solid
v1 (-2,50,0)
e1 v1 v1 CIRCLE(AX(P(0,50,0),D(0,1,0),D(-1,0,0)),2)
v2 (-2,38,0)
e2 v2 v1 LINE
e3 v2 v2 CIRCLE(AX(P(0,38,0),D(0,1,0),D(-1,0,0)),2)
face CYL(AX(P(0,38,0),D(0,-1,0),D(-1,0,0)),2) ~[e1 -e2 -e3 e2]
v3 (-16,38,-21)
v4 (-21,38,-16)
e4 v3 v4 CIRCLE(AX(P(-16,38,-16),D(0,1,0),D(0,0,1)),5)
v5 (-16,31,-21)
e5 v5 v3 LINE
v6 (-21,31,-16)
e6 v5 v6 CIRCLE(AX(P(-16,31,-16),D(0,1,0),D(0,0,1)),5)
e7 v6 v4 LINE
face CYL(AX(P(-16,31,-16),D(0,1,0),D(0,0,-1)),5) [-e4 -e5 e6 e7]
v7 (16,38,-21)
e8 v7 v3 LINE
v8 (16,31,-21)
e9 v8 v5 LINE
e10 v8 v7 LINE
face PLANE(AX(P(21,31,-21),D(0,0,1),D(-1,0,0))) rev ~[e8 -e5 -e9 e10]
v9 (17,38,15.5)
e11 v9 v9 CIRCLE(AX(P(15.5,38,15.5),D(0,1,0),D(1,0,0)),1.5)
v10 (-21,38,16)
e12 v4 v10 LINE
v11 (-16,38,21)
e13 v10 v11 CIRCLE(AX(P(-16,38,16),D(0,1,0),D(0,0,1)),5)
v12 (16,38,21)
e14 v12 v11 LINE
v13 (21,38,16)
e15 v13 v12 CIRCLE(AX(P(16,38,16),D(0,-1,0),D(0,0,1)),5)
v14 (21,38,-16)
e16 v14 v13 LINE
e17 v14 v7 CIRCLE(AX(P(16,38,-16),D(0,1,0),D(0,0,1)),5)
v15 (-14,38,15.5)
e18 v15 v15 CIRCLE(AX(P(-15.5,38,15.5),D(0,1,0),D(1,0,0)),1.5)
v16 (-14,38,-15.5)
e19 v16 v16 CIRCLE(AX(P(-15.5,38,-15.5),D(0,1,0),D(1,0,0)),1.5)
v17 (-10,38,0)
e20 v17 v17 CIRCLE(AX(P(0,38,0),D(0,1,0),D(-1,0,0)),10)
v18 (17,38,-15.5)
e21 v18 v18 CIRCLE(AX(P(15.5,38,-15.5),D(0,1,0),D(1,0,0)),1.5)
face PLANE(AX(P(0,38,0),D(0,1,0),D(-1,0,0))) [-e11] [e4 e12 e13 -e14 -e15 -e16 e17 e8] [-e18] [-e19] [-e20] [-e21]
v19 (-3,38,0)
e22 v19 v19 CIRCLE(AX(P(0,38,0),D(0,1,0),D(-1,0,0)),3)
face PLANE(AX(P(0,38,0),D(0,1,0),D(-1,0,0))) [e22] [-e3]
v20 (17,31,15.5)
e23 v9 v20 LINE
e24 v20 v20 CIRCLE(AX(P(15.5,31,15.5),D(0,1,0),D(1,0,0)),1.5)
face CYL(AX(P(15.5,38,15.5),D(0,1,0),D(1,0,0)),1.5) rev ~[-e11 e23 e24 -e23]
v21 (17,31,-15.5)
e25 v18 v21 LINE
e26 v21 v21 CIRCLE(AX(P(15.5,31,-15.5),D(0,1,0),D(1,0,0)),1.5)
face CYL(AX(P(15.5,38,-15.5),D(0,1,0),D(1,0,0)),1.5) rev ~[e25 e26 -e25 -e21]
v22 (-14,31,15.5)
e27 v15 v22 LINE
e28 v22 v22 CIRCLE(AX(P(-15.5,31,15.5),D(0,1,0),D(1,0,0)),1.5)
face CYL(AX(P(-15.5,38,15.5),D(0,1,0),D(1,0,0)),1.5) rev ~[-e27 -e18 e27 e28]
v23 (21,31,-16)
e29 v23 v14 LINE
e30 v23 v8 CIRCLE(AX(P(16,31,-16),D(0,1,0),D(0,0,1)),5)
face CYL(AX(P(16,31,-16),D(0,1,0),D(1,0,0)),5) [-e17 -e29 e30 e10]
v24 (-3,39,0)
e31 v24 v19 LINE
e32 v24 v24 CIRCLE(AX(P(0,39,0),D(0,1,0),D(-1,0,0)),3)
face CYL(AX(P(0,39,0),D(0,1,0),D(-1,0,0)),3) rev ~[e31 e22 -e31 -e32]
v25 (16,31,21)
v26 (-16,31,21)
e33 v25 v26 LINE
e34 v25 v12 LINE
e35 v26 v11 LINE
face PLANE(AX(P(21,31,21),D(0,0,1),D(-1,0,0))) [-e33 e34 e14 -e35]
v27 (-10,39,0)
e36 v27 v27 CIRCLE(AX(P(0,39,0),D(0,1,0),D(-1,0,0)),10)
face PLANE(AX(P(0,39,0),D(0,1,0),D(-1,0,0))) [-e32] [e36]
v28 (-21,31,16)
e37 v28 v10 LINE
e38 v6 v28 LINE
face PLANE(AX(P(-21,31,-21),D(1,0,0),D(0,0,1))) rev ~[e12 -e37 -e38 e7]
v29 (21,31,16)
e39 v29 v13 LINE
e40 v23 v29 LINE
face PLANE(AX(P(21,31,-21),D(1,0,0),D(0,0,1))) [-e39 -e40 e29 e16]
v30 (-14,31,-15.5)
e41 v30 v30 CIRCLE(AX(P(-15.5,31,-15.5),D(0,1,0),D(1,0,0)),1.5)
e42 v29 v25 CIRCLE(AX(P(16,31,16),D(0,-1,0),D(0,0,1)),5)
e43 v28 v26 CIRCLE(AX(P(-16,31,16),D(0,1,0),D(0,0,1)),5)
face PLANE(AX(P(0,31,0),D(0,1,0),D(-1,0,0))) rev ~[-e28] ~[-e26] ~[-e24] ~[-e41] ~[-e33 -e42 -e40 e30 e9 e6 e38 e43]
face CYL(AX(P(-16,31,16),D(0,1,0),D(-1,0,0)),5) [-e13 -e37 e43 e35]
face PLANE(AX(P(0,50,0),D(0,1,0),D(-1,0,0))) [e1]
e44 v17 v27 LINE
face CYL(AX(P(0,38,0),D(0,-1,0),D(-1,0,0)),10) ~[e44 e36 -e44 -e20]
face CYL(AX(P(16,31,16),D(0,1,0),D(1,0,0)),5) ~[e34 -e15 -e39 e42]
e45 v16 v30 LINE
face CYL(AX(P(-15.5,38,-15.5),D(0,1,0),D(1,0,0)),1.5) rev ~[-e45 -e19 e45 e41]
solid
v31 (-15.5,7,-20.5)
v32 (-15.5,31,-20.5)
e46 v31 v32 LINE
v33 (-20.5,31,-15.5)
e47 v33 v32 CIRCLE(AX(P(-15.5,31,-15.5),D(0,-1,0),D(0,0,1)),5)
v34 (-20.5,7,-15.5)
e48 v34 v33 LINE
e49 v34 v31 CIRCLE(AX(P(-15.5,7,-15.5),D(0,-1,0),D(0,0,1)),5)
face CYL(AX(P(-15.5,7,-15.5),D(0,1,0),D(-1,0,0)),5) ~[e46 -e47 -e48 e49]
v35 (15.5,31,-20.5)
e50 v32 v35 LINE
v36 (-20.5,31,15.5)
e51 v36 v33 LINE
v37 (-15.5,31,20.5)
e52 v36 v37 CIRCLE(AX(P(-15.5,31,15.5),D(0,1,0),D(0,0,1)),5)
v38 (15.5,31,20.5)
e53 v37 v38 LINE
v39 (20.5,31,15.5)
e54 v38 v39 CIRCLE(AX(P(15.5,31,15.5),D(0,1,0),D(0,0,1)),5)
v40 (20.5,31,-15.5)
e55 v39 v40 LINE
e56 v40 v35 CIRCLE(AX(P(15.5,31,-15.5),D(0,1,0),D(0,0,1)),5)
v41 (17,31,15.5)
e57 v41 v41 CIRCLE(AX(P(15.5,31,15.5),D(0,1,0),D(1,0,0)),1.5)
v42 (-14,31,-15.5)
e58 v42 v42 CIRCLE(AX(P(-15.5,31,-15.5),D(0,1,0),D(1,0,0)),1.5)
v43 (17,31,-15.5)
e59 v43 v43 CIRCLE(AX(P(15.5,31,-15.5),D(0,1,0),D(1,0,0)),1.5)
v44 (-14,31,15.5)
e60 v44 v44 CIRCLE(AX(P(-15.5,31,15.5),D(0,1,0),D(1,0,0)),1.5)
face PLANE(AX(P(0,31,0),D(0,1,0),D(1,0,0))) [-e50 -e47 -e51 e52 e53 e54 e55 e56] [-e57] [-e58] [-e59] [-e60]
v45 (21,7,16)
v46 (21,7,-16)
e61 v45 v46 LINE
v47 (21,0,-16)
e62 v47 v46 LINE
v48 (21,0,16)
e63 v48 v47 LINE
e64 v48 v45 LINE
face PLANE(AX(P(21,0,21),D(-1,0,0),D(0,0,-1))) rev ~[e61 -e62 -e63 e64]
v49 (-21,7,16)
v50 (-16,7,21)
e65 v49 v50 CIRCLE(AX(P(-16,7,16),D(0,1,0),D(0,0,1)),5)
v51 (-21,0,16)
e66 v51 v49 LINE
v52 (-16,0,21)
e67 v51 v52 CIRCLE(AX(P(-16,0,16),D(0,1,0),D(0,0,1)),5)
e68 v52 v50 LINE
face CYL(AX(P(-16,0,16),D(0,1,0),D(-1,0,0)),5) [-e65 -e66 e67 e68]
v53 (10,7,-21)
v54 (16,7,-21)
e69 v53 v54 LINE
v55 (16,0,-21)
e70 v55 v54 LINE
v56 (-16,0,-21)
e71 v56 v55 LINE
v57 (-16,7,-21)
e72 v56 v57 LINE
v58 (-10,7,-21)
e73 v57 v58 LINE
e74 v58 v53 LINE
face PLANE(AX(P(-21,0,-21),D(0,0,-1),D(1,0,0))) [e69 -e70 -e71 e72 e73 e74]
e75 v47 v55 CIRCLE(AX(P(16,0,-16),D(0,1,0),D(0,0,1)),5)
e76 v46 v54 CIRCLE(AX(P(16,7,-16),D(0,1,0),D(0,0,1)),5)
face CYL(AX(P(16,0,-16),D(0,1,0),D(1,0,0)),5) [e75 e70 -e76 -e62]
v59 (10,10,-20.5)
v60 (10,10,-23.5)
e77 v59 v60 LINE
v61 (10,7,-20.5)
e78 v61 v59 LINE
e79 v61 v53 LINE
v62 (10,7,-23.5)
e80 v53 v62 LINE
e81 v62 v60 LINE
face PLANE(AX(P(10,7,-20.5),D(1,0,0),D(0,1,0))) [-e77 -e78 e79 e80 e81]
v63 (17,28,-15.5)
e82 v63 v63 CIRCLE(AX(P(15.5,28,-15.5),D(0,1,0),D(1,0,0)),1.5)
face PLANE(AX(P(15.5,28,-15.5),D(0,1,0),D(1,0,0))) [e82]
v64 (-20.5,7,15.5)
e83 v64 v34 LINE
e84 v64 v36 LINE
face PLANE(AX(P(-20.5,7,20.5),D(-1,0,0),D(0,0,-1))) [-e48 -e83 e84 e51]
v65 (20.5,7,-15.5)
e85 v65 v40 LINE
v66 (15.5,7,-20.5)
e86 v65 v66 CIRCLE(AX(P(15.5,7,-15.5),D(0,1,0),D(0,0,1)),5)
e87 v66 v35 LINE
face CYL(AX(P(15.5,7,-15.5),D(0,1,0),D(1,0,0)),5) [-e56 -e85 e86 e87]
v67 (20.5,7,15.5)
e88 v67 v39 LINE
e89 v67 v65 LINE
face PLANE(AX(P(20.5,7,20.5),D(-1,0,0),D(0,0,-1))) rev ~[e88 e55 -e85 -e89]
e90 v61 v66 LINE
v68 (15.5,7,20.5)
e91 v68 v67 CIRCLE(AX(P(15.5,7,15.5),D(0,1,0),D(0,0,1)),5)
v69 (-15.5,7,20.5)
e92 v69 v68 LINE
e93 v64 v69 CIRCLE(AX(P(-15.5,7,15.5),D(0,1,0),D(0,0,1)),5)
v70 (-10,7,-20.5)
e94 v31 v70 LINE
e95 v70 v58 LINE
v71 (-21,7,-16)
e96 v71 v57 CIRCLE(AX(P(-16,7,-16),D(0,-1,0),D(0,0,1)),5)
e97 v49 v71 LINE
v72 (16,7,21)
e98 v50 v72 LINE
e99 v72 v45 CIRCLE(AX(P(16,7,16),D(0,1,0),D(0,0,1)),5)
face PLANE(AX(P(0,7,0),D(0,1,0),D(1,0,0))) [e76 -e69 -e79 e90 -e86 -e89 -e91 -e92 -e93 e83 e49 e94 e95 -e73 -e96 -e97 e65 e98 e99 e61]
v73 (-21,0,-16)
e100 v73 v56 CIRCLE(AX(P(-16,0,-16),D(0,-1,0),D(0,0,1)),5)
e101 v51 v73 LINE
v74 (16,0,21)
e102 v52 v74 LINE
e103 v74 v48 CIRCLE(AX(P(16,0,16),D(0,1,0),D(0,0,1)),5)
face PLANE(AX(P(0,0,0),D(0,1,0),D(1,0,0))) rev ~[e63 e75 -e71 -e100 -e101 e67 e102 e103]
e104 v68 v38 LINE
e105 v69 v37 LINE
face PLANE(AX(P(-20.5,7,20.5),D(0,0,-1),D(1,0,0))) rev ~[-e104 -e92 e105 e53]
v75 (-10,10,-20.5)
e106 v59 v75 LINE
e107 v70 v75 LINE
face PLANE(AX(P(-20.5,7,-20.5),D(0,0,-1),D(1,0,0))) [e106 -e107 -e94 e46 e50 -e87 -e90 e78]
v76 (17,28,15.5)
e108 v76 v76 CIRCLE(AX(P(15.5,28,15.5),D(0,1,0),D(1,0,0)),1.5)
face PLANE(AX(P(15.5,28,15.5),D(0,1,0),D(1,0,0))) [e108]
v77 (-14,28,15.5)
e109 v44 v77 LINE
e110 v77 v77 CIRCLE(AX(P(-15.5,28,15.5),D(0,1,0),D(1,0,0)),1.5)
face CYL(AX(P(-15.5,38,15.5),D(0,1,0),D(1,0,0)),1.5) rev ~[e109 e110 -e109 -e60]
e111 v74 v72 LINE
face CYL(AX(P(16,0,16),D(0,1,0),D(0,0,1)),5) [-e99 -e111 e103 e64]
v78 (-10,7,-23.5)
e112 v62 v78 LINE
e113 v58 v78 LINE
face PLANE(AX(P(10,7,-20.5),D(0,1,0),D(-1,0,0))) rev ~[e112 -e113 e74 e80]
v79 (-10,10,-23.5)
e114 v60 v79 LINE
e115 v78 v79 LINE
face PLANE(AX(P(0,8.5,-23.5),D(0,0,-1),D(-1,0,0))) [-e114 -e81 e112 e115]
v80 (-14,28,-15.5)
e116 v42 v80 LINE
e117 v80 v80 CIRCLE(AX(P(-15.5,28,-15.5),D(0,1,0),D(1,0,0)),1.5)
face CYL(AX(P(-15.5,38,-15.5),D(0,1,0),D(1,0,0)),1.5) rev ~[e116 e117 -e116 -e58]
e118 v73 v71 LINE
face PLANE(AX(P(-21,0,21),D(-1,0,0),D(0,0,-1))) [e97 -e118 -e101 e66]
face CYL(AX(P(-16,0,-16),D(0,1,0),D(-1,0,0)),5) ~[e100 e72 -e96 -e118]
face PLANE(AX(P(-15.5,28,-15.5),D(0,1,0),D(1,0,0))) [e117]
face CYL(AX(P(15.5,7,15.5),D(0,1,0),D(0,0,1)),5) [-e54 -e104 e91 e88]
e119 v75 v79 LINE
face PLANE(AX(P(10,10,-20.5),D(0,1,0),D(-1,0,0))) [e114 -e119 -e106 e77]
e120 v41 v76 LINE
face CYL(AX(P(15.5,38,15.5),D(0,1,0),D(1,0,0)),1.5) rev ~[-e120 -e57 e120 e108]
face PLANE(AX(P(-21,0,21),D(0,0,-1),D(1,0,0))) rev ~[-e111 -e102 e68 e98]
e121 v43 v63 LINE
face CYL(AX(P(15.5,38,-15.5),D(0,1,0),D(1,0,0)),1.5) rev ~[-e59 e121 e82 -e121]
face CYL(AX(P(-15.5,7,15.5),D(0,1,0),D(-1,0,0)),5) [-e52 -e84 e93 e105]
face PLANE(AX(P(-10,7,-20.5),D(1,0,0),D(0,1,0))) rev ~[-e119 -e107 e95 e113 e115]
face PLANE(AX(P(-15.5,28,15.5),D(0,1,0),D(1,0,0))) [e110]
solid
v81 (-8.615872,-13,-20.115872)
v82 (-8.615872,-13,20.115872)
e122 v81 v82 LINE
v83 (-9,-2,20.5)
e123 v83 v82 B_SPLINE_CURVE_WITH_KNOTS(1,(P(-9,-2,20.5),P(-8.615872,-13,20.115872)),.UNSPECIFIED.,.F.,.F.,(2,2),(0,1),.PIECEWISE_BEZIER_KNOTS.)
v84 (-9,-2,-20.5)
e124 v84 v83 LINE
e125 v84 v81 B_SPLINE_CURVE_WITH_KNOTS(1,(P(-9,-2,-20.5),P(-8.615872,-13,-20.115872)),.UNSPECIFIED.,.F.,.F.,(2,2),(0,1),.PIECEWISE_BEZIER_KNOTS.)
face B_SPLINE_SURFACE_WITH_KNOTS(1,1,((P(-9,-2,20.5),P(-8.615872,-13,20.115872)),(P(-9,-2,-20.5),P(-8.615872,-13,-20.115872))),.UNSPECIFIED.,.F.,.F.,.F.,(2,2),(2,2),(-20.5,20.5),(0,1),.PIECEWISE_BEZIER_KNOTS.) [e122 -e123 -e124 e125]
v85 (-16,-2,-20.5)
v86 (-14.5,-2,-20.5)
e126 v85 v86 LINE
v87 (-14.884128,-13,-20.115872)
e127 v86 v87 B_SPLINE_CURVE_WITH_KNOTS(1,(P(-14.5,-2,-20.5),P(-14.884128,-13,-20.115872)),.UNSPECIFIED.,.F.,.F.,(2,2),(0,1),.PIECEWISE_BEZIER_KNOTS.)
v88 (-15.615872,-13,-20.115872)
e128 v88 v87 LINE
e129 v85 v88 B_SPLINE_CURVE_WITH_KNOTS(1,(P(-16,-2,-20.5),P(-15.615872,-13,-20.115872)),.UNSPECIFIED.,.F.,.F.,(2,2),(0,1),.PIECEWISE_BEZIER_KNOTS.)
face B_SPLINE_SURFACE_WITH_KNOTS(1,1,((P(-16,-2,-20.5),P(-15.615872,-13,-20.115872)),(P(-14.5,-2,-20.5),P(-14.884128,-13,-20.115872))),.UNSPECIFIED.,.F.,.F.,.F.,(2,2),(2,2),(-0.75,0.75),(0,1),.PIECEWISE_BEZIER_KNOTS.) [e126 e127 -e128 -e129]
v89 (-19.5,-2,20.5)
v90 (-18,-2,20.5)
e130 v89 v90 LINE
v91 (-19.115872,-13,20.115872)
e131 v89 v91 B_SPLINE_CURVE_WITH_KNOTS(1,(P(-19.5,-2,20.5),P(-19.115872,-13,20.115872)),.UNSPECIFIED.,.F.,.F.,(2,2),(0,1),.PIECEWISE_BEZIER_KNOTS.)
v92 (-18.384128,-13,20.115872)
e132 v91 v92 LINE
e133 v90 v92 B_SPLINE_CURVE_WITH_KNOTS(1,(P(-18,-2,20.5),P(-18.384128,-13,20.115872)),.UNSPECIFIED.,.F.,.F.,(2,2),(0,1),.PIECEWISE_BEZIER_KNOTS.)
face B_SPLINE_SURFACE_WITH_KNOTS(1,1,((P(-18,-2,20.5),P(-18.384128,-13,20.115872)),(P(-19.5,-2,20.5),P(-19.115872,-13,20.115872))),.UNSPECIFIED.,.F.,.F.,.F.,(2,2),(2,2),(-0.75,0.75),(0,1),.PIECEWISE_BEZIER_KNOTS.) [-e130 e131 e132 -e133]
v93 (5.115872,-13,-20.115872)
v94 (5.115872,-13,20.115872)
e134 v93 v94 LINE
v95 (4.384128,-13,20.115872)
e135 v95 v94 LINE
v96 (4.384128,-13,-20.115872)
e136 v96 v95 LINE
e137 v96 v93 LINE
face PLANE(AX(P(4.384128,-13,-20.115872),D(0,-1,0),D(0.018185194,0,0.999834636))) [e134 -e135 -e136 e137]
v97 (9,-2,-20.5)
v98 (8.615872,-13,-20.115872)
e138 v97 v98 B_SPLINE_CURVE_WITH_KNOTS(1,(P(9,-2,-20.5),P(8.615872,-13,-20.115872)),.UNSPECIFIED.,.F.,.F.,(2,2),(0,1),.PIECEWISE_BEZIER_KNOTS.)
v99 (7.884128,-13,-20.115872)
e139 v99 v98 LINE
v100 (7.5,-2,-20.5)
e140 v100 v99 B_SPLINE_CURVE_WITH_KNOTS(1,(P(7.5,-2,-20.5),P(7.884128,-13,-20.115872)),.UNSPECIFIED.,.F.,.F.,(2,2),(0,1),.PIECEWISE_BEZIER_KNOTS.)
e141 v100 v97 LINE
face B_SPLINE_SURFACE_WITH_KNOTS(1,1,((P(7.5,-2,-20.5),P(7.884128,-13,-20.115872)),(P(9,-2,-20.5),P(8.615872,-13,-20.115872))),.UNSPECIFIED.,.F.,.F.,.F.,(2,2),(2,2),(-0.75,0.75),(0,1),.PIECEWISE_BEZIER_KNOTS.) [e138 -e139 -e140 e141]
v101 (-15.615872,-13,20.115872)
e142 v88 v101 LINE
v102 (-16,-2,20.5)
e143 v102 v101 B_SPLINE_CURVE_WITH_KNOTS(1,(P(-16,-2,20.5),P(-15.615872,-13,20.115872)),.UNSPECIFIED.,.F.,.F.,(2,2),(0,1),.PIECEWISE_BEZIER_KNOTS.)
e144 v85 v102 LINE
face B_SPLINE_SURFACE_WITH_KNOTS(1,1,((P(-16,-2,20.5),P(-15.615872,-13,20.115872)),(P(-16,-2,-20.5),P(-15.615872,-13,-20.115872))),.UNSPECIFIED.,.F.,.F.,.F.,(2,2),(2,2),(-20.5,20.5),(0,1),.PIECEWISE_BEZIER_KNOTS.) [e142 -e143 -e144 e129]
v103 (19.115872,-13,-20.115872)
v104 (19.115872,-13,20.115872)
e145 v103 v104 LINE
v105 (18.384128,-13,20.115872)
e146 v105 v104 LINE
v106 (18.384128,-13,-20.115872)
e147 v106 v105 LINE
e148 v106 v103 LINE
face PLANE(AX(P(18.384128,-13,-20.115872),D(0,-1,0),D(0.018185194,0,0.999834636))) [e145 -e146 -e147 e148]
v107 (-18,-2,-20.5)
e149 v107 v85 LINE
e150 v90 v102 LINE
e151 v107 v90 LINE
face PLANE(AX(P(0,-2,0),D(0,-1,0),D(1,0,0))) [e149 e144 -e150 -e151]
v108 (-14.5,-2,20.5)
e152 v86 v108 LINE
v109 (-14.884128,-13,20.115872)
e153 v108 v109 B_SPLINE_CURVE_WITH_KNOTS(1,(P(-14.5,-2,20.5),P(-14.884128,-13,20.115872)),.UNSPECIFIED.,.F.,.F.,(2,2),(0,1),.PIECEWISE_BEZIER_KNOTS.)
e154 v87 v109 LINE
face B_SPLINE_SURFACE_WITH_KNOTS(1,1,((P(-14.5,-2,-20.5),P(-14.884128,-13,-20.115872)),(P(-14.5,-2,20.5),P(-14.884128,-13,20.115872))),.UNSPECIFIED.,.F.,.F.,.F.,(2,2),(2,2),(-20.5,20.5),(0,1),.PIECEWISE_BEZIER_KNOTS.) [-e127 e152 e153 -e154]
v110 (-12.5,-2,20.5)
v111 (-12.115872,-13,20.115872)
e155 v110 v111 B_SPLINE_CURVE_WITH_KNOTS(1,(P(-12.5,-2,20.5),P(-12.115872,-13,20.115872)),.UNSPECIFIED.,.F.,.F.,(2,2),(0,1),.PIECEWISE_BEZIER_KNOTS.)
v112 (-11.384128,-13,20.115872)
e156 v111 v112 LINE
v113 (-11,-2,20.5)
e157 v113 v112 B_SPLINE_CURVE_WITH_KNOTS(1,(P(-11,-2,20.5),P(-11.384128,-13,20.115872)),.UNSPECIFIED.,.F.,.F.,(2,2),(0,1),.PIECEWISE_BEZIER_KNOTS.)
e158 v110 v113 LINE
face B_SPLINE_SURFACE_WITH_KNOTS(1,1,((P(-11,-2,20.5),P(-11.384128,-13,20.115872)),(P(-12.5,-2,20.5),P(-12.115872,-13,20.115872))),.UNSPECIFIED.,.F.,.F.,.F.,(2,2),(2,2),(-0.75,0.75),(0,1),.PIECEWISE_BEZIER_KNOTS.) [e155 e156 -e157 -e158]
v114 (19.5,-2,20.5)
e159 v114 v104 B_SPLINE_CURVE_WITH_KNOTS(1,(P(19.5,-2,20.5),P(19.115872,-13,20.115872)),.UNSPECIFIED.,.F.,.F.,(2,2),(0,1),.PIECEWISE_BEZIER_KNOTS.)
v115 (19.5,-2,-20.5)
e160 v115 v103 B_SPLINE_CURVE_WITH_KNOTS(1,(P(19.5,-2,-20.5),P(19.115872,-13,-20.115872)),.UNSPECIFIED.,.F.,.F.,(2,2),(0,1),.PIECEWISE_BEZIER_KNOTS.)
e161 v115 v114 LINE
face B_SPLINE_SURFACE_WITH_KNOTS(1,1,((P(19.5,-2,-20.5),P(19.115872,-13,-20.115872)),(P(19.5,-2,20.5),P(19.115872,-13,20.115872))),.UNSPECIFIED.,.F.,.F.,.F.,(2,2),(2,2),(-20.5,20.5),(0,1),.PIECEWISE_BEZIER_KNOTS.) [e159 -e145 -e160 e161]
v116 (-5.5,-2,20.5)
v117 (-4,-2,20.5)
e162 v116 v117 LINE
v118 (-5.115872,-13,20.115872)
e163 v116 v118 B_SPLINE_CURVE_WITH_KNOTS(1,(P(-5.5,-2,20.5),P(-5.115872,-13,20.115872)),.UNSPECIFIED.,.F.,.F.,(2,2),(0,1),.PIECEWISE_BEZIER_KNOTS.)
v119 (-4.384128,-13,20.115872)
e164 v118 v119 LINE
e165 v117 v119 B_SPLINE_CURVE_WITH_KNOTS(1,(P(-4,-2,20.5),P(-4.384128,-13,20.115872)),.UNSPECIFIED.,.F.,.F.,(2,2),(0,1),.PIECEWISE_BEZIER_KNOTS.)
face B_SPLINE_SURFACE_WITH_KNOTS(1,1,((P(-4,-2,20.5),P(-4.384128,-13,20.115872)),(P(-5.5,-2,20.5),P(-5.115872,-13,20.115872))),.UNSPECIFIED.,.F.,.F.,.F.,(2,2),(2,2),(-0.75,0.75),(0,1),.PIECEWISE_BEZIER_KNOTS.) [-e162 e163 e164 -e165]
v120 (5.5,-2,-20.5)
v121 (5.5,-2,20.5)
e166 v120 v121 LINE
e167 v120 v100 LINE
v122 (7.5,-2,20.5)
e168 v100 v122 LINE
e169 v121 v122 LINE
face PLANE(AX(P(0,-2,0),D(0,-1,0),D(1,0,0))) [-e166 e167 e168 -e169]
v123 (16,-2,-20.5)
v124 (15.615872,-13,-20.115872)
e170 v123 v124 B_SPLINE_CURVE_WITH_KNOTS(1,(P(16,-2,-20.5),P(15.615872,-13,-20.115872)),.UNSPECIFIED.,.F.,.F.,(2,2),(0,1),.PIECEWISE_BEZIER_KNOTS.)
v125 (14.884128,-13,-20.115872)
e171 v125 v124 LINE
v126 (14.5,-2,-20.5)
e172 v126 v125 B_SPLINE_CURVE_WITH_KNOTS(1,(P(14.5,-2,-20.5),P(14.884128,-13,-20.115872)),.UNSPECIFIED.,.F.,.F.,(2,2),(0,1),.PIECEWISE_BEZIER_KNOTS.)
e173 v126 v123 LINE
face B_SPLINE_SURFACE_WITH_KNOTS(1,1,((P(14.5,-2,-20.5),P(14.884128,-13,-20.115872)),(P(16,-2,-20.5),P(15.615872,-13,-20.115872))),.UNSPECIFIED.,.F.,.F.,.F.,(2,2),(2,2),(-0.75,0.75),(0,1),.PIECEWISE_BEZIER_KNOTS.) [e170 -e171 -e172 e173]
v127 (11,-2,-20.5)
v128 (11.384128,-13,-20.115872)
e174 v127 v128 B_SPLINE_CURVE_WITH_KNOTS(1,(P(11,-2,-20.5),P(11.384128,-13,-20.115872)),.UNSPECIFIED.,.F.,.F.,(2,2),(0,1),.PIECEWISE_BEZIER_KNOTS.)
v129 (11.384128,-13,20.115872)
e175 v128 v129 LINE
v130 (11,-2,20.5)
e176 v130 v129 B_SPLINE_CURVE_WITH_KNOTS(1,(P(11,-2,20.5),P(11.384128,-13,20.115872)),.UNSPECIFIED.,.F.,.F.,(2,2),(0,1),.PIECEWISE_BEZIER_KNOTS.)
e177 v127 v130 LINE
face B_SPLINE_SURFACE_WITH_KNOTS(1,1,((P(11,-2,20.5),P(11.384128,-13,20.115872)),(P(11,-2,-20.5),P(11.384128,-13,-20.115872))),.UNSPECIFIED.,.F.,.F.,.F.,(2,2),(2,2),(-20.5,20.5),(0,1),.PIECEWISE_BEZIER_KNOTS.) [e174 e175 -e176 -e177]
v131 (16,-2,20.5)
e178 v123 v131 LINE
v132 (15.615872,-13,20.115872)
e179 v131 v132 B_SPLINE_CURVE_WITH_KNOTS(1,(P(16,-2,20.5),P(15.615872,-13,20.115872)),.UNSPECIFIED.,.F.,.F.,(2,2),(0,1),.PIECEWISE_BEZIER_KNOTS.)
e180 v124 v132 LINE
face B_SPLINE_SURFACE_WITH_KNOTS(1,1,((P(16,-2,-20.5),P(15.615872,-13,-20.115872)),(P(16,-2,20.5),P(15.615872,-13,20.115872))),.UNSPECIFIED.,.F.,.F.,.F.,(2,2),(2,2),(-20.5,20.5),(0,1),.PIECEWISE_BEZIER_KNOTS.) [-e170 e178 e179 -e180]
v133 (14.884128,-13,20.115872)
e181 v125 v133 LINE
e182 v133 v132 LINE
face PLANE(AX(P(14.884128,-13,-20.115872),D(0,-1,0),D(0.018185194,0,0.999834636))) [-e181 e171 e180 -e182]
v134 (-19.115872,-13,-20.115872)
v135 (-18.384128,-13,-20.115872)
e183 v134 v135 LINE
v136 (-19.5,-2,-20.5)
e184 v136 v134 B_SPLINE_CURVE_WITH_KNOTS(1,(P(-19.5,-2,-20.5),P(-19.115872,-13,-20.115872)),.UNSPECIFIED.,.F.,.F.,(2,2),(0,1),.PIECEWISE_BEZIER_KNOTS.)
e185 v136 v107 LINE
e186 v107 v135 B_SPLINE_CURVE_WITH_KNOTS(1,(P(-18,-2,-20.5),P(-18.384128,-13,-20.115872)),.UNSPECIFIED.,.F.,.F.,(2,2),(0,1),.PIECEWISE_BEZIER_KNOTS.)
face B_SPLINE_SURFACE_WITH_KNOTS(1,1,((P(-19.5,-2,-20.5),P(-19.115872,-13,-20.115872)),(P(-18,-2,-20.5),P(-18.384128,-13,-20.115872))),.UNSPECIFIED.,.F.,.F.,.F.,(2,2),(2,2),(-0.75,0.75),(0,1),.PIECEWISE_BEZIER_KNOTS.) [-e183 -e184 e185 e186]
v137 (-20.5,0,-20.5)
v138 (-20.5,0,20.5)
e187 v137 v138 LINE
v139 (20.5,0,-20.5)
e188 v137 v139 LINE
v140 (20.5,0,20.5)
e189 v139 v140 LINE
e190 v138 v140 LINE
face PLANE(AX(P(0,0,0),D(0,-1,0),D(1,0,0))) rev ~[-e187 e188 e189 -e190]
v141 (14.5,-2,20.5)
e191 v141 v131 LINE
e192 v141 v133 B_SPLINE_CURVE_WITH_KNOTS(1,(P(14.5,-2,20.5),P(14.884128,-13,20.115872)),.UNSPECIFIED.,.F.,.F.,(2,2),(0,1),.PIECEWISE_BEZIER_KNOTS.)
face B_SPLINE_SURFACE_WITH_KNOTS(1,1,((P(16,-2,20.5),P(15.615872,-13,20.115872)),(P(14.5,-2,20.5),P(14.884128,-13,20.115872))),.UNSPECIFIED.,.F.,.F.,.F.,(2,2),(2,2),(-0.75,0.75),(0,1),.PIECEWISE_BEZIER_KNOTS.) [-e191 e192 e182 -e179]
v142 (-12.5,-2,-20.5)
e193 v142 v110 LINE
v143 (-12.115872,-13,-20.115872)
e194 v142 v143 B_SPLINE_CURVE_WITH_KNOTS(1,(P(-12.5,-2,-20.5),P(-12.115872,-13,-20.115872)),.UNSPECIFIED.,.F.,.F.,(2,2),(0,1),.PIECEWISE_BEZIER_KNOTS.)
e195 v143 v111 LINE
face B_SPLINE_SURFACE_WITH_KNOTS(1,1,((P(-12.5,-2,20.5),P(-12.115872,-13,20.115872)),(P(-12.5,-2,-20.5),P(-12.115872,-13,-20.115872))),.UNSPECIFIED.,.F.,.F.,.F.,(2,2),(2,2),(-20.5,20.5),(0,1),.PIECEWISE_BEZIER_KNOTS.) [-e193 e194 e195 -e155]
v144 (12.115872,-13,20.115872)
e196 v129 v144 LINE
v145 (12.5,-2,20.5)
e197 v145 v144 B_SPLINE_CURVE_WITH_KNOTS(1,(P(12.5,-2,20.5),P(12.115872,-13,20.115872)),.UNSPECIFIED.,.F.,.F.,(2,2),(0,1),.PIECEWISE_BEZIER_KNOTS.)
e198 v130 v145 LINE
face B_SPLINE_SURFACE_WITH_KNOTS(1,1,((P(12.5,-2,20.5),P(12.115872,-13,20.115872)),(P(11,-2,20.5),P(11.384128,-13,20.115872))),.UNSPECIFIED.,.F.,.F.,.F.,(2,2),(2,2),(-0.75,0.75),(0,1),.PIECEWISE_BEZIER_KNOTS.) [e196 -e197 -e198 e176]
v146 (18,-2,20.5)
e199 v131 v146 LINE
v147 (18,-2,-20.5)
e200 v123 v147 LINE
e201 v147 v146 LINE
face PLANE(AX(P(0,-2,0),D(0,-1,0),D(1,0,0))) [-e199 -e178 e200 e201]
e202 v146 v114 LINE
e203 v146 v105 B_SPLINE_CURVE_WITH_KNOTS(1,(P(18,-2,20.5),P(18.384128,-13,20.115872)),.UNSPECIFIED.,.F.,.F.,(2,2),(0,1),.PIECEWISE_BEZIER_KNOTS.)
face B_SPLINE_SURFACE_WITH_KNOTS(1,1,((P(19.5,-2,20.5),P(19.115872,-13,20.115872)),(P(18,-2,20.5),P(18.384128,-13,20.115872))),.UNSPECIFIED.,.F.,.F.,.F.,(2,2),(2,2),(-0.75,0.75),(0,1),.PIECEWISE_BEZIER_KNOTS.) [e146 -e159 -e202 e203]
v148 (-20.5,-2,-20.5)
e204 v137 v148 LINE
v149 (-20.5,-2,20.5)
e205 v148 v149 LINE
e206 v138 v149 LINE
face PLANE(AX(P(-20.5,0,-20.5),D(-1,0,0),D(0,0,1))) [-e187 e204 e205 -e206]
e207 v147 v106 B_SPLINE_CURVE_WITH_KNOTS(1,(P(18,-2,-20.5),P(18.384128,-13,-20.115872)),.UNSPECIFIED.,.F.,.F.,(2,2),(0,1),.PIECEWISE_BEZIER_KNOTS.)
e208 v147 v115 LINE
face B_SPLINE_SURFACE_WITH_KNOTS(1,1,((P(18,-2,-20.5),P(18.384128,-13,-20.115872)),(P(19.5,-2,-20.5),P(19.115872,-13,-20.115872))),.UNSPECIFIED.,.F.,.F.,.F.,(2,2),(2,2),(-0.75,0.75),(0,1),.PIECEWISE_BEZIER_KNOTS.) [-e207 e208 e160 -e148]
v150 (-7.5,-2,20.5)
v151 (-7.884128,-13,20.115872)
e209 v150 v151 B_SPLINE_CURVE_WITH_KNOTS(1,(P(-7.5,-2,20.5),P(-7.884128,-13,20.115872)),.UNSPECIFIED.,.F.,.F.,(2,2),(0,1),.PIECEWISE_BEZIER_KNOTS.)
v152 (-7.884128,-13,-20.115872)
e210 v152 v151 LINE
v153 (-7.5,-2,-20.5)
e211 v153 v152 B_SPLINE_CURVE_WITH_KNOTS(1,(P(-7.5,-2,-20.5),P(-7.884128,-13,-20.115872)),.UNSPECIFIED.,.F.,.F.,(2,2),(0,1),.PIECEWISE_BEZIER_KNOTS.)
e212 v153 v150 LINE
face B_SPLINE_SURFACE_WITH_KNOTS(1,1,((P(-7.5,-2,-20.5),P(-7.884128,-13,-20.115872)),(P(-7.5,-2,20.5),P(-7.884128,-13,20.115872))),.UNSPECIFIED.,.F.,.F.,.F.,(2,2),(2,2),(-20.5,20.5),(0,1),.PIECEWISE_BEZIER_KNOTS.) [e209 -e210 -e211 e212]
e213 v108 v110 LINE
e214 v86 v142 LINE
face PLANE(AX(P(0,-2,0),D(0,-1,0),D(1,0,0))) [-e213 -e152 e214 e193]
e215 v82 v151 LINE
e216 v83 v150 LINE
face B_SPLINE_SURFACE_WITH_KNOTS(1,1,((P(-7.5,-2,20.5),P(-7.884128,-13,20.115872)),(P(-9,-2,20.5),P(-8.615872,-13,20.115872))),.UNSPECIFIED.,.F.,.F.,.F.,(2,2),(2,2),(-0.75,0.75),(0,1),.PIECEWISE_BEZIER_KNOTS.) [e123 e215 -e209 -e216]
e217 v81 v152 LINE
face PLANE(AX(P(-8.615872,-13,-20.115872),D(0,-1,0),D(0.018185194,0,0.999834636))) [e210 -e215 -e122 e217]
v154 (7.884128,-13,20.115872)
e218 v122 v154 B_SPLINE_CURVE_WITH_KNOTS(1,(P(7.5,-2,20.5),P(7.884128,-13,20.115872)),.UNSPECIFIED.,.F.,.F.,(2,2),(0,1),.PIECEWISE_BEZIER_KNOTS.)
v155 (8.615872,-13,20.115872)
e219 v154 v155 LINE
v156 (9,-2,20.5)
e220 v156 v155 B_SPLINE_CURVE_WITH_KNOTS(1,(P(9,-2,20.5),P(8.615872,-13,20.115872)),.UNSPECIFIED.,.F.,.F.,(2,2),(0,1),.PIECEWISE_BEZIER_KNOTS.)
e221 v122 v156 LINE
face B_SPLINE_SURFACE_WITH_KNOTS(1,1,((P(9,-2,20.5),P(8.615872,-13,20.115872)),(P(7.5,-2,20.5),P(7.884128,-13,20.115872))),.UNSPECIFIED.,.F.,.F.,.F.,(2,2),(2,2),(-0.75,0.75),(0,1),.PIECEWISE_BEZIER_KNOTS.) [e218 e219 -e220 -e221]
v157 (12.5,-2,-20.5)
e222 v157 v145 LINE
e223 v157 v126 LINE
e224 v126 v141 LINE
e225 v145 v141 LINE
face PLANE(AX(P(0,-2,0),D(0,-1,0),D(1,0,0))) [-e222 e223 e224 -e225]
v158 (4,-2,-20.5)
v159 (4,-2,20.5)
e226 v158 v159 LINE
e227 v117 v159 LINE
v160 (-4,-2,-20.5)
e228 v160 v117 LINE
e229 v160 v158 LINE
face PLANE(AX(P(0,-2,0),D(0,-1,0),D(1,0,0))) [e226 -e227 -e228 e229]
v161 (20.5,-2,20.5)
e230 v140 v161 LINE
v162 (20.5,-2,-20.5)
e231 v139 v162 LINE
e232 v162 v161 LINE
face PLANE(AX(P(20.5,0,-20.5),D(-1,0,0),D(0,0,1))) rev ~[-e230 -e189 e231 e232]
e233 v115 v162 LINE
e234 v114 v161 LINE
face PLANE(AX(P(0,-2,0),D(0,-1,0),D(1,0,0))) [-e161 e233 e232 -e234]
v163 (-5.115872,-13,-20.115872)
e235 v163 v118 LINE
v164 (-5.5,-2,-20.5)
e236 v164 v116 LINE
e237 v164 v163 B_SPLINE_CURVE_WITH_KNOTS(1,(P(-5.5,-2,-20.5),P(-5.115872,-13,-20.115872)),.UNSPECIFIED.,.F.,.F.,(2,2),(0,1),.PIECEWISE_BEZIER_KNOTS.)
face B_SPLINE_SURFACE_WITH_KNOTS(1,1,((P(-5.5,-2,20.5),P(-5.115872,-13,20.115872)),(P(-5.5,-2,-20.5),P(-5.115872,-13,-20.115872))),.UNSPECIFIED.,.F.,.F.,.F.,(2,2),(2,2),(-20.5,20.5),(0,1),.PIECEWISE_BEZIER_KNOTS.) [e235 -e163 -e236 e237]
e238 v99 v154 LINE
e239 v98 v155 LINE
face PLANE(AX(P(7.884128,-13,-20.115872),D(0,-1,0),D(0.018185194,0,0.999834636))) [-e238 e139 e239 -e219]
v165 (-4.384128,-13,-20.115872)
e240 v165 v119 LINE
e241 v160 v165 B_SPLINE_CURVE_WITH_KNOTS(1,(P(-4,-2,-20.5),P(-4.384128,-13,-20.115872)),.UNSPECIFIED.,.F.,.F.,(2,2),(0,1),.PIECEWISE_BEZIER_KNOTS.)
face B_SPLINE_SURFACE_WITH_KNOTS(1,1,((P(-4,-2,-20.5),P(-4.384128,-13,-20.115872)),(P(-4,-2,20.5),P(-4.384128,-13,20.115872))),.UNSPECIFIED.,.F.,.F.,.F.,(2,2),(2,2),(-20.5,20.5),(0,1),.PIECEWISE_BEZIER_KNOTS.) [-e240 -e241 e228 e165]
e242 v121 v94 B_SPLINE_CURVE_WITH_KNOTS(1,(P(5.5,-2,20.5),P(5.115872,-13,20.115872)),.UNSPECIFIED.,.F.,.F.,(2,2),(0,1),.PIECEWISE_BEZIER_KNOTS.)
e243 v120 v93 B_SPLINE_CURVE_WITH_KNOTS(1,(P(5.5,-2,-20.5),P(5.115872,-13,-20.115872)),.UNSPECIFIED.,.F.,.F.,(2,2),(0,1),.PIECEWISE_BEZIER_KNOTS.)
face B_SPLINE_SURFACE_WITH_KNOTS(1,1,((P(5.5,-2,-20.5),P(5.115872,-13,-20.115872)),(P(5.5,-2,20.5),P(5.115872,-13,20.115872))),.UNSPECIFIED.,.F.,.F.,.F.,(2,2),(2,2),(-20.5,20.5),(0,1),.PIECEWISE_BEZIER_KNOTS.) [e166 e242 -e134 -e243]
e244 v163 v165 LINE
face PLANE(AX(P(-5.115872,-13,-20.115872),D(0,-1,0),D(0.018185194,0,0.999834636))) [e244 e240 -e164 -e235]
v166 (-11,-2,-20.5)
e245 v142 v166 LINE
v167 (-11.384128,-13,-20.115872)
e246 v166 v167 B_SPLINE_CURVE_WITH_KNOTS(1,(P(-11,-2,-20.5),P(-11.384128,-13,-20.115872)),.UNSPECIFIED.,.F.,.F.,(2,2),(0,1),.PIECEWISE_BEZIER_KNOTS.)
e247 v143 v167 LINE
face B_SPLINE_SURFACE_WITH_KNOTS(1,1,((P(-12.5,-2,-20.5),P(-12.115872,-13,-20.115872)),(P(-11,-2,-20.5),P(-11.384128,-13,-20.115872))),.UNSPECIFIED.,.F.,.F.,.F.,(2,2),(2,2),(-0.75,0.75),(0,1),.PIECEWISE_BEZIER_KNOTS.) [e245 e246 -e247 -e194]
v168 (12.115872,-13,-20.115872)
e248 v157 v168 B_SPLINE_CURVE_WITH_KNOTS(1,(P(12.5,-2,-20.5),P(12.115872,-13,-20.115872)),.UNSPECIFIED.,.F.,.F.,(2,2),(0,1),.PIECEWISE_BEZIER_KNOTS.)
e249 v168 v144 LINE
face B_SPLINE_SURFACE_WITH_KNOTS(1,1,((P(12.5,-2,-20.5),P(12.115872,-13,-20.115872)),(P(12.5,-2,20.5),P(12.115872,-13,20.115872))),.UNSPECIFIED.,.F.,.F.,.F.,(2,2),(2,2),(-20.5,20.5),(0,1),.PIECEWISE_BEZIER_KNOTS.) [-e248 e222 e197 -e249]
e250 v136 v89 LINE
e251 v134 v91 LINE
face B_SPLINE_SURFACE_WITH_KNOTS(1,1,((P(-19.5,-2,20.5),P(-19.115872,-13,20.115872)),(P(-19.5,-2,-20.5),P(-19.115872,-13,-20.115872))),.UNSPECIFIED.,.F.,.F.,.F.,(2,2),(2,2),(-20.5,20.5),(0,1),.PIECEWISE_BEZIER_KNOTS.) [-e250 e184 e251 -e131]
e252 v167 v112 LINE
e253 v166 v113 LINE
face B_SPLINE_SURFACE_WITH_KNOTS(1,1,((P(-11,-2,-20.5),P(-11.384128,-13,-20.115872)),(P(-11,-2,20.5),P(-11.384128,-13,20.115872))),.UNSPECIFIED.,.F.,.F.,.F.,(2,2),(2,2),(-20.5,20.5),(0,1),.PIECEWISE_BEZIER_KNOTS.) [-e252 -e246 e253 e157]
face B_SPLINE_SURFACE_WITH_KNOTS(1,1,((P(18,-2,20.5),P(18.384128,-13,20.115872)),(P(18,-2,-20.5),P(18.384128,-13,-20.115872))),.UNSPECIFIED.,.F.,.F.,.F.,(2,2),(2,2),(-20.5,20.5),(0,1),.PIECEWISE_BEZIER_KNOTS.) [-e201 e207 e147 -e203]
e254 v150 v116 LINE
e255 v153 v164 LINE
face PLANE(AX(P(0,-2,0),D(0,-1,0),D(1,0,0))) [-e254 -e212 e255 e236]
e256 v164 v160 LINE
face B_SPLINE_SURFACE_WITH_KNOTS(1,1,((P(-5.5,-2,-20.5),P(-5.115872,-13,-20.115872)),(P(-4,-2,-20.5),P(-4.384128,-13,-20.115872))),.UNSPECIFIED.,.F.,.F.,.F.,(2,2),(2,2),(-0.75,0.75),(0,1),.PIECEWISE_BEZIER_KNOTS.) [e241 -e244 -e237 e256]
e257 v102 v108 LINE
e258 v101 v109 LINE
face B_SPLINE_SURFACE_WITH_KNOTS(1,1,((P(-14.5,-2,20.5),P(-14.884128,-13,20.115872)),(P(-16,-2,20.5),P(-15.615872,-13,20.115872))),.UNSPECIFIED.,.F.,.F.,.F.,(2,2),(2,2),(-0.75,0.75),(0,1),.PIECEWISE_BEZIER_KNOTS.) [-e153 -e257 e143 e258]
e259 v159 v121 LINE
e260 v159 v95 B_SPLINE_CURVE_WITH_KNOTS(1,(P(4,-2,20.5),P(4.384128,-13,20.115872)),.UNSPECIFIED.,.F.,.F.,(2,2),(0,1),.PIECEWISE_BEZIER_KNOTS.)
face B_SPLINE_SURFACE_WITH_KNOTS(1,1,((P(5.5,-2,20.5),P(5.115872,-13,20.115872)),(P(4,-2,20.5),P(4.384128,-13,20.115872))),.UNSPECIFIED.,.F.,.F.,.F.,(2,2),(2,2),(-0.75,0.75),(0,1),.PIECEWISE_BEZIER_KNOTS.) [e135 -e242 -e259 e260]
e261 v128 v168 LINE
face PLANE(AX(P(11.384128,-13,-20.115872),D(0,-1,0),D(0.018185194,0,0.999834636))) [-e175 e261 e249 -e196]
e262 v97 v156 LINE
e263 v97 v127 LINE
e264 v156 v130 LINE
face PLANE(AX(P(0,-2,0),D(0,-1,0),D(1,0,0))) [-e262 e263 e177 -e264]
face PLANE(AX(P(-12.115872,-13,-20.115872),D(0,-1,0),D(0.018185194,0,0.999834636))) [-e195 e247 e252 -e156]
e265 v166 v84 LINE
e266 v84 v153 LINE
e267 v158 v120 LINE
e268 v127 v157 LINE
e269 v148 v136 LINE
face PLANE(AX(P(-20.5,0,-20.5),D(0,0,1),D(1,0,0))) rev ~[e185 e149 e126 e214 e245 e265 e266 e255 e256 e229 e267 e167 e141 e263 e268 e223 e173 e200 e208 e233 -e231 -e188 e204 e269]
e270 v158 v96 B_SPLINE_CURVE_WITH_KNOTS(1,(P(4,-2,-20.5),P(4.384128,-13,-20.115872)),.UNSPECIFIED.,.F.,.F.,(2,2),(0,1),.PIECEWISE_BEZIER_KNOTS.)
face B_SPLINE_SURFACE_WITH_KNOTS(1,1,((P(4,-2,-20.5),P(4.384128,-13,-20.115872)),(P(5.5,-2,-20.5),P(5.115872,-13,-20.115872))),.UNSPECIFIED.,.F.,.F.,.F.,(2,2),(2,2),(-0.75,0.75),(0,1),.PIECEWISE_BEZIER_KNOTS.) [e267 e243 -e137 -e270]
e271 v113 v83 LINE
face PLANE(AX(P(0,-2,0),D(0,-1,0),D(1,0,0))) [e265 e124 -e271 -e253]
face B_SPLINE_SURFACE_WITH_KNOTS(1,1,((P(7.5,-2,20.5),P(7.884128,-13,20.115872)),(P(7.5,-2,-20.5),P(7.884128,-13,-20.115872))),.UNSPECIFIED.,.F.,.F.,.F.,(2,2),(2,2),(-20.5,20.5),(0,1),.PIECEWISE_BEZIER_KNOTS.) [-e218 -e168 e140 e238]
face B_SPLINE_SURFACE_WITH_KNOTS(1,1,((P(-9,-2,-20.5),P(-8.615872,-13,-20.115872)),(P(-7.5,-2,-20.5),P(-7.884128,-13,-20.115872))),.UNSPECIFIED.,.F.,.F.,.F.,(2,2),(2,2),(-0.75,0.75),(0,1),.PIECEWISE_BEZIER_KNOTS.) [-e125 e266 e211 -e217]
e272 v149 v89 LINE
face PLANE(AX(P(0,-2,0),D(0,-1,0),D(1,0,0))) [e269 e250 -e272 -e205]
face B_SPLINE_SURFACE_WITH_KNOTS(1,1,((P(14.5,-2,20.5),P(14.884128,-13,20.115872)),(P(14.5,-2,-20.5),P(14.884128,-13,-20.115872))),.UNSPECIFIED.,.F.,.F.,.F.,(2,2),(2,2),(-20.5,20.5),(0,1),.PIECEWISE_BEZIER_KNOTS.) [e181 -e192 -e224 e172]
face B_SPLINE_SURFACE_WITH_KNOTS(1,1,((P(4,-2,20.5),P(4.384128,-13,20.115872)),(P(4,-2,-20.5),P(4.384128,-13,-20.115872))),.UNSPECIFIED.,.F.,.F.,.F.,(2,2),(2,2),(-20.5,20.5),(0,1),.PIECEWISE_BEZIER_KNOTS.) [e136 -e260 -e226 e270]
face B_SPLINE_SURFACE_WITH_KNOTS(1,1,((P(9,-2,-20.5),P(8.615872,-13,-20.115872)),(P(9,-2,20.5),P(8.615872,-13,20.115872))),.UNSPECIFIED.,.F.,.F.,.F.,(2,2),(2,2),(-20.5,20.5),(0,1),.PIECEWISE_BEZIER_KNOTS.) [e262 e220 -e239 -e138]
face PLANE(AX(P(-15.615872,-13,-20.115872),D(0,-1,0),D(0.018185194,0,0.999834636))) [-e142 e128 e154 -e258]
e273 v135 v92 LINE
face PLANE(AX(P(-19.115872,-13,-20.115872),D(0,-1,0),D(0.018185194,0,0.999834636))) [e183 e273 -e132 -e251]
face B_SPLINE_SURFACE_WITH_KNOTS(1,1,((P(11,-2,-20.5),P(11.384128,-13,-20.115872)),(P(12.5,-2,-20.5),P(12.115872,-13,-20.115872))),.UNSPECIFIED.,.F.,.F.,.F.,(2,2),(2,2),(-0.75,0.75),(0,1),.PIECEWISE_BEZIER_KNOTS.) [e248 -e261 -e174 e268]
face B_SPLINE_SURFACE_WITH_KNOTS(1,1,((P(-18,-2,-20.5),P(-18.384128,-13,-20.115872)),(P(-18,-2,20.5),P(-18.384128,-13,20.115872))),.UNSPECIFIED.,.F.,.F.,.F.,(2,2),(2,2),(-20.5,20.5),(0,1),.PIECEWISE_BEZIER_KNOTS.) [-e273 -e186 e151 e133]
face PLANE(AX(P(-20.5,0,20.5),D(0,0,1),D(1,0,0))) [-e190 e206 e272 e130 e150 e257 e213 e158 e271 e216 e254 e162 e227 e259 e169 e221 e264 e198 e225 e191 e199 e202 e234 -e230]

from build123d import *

# Parameters (mm, degrees)
SKETCH1_W       = 42
SKETCH1_H       = 42
EXTRUDE1_DEPTH  = 7
FILLET1_R       = 5
SKETCH2_W       = 41
SKETCH2_H       = 41
EXTRUDE2_DEPTH  = 24
FILLET3_R       = 5
SKETCH3_W       = 42
SKETCH3_H       = 42
EXTRUDE3_DEPTH  = 7
FILLET4_R       = 5
SKETCH4_R       = 10
EXTRUDE4_DEPTH  = 1
SKETCH5_R       = 3
EXTRUDE5_DEPTH  = 1
SKETCH6_R       = 2
EXTRUDE7_DEPTH  = 12
SKETCH7_W       = 20
SKETCH7_H       = 3
EXTRUDE8_DEPTH  = 3
SKETCH8_R       = 1.5
EXTRUDE9_DEPTH  = 10
SKETCH9_W       = 41
SKETCH9_H       = 41
EXTRUDE11_DEPTH = 2
SKETCH10_W      = 1.5
SKETCH10_H      = 41
EXTRUDE12_DEPTH = 11
EXTRUDE12_TAPER = 2


with BuildPart() as part:
    # Sketch1 → Extrude1 (new body)
    with BuildSketch(Plane(origin=(0, 0, 0), x_dir=(1, 0, 0), z_dir=(0, 1, 0))):
        Rectangle(SKETCH1_W, SKETCH1_H)
    extrude(amount=EXTRUDE1_DEPTH)

    # Fillet1
    fillet1_edges = [part.edges().sort_by_distance(p)[0] for p in [
        (21, 3.5, 21),
        (-21, 3.5, 21),
        (-21, 3.5, -21),
        (21, 3.5, -21),
    ]]
    fillet(fillet1_edges, radius=FILLET1_R)



with BuildPart() as body_2:
    # Sketch2 → Extrude2 (new body)
    with BuildSketch(Plane(origin=(0, 7, 0), x_dir=(1, 0, 0), z_dir=(0, 1, 0))):
        Rectangle(SKETCH2_W, SKETCH2_H)
    extrude(amount=EXTRUDE2_DEPTH)

    # Fillet3
    fillet3_edges = [body_2.edges().sort_by_distance(p)[0] for p in [
        (-20.5, 19, -20.5),
        (20.5, 19, -20.5),
        (20.5, 19, 20.5),
        (-20.5, 19, 20.5),
    ]]
    fillet(fillet3_edges, radius=FILLET3_R)


with BuildPart() as body_3:
    # Sketch3 → Extrude3 (new body)
    with BuildSketch(Plane(origin=(0, 31, 0), x_dir=(-1, 0, 0), z_dir=(0, 1, 0))):
        Rectangle(SKETCH3_W, SKETCH3_H)
    extrude(amount=EXTRUDE3_DEPTH)

    # Fillet4
    fillet4_edges = [body_3.edges().sort_by_distance(p)[0] for p in [
        (21, 34.5, 21),
        (-21, 34.5, 21),
        (-21, 34.5, -21),
        (21, 34.5, -21),
    ]]
    fillet(fillet4_edges, radius=FILLET4_R)

    # Sketch4 → Extrude4 (add)
    with BuildSketch(Plane(origin=(0, 38, 0), x_dir=(-1, 0, 0), z_dir=(0, 1, 0))):
        Circle(SKETCH4_R)
    extrude(amount=EXTRUDE4_DEPTH)

    # Sketch5 → Extrude5 (cut)
    with BuildSketch(Plane(origin=(0, 39, 0), x_dir=(-1, 0, 0), z_dir=(0, 1, 0))):
        Circle(SKETCH5_R)
    extrude(amount=-EXTRUDE5_DEPTH, mode=Mode.SUBTRACT)

    # Sketch6 → Extrude7 (add)
    with BuildSketch(Plane(origin=(0, 38, 0), x_dir=(-1, 0, 0), z_dir=(0, 1, 0))):
        Circle(SKETCH6_R)
    extrude(amount=EXTRUDE7_DEPTH)


with BuildPart() as part_1:
    add(part.part)

    add(body_2.part)  # Extrude8 merges body 2
    # Sketch7 → Extrude8 (add)
    with BuildSketch(Plane(origin=(0, 0, -20.5), x_dir=(-1, 0, 0), z_dir=(0, 0, -1))):
        with Locations((0, 8.5)):
            Rectangle(SKETCH7_W, SKETCH7_H)
    extrude(amount=EXTRUDE8_DEPTH)


with BuildPart() as extrude9_tool:
    # Sketch8 → Extrude9 (new body)
    with BuildSketch(Plane(origin=(0, 38, 0), x_dir=(1, 0, 0), z_dir=(0, 1, 0))):
        with Locations((15.5, 15.5)):
            Circle(SKETCH8_R)
        with Locations((-15.5, 15.5)):
            Circle(SKETCH8_R)
        with Locations((-15.5, -15.5)):
            Circle(SKETCH8_R)
        with Locations((15.5, -15.5)):
            Circle(SKETCH8_R)
    extrude(amount=-EXTRUDE9_DEPTH)


with BuildPart() as part_2:
    add(part_1.part)

    # Extrude9: cut by extrude9_tool
    add(extrude9_tool.part, mode=Mode.SUBTRACT)


with BuildPart() as body_3_1:
    add(body_3.part)

    # Extrude9: cut by extrude9_tool
    add(extrude9_tool.part, mode=Mode.SUBTRACT)


with BuildPart() as body_3_2:
    # Sketch9 → Extrude11 (new body)
    with BuildSketch(Plane.XZ):
        Rectangle(SKETCH9_W, SKETCH9_H)
    extrude(amount=EXTRUDE11_DEPTH)

    # Sketch10 → Extrude12 (add)
    with BuildSketch(Plane.XZ.offset(2)):
        with Locations((-18.75, 0)):
            Rectangle(SKETCH10_W, SKETCH10_H)
        with Locations((-15.25, 0)):
            Rectangle(SKETCH10_W, SKETCH10_H)
        with Locations((-11.75, 0)):
            Rectangle(SKETCH10_W, SKETCH10_H)
        with Locations((-8.25, 0)):
            Rectangle(SKETCH10_W, SKETCH10_H)
        with Locations((-4.75, 0)):
            Rectangle(SKETCH10_W, SKETCH10_H)
        with Locations((18.75, 0)):
            Rectangle(SKETCH10_W, SKETCH10_H)
        with Locations((15.25, 0)):
            Rectangle(SKETCH10_W, SKETCH10_H)
        with Locations((11.75, 0)):
            Rectangle(SKETCH10_W, SKETCH10_H)
        with Locations((8.25, 0)):
            Rectangle(SKETCH10_W, SKETCH10_H)
        with Locations((4.75, 0)):
            Rectangle(SKETCH10_W, SKETCH10_H)
    extrude(amount=EXTRUDE12_DEPTH, taper=EXTRUDE12_TAPER)


solid = Compound([part_2.part, body_3_1.part, body_3_2.part])
